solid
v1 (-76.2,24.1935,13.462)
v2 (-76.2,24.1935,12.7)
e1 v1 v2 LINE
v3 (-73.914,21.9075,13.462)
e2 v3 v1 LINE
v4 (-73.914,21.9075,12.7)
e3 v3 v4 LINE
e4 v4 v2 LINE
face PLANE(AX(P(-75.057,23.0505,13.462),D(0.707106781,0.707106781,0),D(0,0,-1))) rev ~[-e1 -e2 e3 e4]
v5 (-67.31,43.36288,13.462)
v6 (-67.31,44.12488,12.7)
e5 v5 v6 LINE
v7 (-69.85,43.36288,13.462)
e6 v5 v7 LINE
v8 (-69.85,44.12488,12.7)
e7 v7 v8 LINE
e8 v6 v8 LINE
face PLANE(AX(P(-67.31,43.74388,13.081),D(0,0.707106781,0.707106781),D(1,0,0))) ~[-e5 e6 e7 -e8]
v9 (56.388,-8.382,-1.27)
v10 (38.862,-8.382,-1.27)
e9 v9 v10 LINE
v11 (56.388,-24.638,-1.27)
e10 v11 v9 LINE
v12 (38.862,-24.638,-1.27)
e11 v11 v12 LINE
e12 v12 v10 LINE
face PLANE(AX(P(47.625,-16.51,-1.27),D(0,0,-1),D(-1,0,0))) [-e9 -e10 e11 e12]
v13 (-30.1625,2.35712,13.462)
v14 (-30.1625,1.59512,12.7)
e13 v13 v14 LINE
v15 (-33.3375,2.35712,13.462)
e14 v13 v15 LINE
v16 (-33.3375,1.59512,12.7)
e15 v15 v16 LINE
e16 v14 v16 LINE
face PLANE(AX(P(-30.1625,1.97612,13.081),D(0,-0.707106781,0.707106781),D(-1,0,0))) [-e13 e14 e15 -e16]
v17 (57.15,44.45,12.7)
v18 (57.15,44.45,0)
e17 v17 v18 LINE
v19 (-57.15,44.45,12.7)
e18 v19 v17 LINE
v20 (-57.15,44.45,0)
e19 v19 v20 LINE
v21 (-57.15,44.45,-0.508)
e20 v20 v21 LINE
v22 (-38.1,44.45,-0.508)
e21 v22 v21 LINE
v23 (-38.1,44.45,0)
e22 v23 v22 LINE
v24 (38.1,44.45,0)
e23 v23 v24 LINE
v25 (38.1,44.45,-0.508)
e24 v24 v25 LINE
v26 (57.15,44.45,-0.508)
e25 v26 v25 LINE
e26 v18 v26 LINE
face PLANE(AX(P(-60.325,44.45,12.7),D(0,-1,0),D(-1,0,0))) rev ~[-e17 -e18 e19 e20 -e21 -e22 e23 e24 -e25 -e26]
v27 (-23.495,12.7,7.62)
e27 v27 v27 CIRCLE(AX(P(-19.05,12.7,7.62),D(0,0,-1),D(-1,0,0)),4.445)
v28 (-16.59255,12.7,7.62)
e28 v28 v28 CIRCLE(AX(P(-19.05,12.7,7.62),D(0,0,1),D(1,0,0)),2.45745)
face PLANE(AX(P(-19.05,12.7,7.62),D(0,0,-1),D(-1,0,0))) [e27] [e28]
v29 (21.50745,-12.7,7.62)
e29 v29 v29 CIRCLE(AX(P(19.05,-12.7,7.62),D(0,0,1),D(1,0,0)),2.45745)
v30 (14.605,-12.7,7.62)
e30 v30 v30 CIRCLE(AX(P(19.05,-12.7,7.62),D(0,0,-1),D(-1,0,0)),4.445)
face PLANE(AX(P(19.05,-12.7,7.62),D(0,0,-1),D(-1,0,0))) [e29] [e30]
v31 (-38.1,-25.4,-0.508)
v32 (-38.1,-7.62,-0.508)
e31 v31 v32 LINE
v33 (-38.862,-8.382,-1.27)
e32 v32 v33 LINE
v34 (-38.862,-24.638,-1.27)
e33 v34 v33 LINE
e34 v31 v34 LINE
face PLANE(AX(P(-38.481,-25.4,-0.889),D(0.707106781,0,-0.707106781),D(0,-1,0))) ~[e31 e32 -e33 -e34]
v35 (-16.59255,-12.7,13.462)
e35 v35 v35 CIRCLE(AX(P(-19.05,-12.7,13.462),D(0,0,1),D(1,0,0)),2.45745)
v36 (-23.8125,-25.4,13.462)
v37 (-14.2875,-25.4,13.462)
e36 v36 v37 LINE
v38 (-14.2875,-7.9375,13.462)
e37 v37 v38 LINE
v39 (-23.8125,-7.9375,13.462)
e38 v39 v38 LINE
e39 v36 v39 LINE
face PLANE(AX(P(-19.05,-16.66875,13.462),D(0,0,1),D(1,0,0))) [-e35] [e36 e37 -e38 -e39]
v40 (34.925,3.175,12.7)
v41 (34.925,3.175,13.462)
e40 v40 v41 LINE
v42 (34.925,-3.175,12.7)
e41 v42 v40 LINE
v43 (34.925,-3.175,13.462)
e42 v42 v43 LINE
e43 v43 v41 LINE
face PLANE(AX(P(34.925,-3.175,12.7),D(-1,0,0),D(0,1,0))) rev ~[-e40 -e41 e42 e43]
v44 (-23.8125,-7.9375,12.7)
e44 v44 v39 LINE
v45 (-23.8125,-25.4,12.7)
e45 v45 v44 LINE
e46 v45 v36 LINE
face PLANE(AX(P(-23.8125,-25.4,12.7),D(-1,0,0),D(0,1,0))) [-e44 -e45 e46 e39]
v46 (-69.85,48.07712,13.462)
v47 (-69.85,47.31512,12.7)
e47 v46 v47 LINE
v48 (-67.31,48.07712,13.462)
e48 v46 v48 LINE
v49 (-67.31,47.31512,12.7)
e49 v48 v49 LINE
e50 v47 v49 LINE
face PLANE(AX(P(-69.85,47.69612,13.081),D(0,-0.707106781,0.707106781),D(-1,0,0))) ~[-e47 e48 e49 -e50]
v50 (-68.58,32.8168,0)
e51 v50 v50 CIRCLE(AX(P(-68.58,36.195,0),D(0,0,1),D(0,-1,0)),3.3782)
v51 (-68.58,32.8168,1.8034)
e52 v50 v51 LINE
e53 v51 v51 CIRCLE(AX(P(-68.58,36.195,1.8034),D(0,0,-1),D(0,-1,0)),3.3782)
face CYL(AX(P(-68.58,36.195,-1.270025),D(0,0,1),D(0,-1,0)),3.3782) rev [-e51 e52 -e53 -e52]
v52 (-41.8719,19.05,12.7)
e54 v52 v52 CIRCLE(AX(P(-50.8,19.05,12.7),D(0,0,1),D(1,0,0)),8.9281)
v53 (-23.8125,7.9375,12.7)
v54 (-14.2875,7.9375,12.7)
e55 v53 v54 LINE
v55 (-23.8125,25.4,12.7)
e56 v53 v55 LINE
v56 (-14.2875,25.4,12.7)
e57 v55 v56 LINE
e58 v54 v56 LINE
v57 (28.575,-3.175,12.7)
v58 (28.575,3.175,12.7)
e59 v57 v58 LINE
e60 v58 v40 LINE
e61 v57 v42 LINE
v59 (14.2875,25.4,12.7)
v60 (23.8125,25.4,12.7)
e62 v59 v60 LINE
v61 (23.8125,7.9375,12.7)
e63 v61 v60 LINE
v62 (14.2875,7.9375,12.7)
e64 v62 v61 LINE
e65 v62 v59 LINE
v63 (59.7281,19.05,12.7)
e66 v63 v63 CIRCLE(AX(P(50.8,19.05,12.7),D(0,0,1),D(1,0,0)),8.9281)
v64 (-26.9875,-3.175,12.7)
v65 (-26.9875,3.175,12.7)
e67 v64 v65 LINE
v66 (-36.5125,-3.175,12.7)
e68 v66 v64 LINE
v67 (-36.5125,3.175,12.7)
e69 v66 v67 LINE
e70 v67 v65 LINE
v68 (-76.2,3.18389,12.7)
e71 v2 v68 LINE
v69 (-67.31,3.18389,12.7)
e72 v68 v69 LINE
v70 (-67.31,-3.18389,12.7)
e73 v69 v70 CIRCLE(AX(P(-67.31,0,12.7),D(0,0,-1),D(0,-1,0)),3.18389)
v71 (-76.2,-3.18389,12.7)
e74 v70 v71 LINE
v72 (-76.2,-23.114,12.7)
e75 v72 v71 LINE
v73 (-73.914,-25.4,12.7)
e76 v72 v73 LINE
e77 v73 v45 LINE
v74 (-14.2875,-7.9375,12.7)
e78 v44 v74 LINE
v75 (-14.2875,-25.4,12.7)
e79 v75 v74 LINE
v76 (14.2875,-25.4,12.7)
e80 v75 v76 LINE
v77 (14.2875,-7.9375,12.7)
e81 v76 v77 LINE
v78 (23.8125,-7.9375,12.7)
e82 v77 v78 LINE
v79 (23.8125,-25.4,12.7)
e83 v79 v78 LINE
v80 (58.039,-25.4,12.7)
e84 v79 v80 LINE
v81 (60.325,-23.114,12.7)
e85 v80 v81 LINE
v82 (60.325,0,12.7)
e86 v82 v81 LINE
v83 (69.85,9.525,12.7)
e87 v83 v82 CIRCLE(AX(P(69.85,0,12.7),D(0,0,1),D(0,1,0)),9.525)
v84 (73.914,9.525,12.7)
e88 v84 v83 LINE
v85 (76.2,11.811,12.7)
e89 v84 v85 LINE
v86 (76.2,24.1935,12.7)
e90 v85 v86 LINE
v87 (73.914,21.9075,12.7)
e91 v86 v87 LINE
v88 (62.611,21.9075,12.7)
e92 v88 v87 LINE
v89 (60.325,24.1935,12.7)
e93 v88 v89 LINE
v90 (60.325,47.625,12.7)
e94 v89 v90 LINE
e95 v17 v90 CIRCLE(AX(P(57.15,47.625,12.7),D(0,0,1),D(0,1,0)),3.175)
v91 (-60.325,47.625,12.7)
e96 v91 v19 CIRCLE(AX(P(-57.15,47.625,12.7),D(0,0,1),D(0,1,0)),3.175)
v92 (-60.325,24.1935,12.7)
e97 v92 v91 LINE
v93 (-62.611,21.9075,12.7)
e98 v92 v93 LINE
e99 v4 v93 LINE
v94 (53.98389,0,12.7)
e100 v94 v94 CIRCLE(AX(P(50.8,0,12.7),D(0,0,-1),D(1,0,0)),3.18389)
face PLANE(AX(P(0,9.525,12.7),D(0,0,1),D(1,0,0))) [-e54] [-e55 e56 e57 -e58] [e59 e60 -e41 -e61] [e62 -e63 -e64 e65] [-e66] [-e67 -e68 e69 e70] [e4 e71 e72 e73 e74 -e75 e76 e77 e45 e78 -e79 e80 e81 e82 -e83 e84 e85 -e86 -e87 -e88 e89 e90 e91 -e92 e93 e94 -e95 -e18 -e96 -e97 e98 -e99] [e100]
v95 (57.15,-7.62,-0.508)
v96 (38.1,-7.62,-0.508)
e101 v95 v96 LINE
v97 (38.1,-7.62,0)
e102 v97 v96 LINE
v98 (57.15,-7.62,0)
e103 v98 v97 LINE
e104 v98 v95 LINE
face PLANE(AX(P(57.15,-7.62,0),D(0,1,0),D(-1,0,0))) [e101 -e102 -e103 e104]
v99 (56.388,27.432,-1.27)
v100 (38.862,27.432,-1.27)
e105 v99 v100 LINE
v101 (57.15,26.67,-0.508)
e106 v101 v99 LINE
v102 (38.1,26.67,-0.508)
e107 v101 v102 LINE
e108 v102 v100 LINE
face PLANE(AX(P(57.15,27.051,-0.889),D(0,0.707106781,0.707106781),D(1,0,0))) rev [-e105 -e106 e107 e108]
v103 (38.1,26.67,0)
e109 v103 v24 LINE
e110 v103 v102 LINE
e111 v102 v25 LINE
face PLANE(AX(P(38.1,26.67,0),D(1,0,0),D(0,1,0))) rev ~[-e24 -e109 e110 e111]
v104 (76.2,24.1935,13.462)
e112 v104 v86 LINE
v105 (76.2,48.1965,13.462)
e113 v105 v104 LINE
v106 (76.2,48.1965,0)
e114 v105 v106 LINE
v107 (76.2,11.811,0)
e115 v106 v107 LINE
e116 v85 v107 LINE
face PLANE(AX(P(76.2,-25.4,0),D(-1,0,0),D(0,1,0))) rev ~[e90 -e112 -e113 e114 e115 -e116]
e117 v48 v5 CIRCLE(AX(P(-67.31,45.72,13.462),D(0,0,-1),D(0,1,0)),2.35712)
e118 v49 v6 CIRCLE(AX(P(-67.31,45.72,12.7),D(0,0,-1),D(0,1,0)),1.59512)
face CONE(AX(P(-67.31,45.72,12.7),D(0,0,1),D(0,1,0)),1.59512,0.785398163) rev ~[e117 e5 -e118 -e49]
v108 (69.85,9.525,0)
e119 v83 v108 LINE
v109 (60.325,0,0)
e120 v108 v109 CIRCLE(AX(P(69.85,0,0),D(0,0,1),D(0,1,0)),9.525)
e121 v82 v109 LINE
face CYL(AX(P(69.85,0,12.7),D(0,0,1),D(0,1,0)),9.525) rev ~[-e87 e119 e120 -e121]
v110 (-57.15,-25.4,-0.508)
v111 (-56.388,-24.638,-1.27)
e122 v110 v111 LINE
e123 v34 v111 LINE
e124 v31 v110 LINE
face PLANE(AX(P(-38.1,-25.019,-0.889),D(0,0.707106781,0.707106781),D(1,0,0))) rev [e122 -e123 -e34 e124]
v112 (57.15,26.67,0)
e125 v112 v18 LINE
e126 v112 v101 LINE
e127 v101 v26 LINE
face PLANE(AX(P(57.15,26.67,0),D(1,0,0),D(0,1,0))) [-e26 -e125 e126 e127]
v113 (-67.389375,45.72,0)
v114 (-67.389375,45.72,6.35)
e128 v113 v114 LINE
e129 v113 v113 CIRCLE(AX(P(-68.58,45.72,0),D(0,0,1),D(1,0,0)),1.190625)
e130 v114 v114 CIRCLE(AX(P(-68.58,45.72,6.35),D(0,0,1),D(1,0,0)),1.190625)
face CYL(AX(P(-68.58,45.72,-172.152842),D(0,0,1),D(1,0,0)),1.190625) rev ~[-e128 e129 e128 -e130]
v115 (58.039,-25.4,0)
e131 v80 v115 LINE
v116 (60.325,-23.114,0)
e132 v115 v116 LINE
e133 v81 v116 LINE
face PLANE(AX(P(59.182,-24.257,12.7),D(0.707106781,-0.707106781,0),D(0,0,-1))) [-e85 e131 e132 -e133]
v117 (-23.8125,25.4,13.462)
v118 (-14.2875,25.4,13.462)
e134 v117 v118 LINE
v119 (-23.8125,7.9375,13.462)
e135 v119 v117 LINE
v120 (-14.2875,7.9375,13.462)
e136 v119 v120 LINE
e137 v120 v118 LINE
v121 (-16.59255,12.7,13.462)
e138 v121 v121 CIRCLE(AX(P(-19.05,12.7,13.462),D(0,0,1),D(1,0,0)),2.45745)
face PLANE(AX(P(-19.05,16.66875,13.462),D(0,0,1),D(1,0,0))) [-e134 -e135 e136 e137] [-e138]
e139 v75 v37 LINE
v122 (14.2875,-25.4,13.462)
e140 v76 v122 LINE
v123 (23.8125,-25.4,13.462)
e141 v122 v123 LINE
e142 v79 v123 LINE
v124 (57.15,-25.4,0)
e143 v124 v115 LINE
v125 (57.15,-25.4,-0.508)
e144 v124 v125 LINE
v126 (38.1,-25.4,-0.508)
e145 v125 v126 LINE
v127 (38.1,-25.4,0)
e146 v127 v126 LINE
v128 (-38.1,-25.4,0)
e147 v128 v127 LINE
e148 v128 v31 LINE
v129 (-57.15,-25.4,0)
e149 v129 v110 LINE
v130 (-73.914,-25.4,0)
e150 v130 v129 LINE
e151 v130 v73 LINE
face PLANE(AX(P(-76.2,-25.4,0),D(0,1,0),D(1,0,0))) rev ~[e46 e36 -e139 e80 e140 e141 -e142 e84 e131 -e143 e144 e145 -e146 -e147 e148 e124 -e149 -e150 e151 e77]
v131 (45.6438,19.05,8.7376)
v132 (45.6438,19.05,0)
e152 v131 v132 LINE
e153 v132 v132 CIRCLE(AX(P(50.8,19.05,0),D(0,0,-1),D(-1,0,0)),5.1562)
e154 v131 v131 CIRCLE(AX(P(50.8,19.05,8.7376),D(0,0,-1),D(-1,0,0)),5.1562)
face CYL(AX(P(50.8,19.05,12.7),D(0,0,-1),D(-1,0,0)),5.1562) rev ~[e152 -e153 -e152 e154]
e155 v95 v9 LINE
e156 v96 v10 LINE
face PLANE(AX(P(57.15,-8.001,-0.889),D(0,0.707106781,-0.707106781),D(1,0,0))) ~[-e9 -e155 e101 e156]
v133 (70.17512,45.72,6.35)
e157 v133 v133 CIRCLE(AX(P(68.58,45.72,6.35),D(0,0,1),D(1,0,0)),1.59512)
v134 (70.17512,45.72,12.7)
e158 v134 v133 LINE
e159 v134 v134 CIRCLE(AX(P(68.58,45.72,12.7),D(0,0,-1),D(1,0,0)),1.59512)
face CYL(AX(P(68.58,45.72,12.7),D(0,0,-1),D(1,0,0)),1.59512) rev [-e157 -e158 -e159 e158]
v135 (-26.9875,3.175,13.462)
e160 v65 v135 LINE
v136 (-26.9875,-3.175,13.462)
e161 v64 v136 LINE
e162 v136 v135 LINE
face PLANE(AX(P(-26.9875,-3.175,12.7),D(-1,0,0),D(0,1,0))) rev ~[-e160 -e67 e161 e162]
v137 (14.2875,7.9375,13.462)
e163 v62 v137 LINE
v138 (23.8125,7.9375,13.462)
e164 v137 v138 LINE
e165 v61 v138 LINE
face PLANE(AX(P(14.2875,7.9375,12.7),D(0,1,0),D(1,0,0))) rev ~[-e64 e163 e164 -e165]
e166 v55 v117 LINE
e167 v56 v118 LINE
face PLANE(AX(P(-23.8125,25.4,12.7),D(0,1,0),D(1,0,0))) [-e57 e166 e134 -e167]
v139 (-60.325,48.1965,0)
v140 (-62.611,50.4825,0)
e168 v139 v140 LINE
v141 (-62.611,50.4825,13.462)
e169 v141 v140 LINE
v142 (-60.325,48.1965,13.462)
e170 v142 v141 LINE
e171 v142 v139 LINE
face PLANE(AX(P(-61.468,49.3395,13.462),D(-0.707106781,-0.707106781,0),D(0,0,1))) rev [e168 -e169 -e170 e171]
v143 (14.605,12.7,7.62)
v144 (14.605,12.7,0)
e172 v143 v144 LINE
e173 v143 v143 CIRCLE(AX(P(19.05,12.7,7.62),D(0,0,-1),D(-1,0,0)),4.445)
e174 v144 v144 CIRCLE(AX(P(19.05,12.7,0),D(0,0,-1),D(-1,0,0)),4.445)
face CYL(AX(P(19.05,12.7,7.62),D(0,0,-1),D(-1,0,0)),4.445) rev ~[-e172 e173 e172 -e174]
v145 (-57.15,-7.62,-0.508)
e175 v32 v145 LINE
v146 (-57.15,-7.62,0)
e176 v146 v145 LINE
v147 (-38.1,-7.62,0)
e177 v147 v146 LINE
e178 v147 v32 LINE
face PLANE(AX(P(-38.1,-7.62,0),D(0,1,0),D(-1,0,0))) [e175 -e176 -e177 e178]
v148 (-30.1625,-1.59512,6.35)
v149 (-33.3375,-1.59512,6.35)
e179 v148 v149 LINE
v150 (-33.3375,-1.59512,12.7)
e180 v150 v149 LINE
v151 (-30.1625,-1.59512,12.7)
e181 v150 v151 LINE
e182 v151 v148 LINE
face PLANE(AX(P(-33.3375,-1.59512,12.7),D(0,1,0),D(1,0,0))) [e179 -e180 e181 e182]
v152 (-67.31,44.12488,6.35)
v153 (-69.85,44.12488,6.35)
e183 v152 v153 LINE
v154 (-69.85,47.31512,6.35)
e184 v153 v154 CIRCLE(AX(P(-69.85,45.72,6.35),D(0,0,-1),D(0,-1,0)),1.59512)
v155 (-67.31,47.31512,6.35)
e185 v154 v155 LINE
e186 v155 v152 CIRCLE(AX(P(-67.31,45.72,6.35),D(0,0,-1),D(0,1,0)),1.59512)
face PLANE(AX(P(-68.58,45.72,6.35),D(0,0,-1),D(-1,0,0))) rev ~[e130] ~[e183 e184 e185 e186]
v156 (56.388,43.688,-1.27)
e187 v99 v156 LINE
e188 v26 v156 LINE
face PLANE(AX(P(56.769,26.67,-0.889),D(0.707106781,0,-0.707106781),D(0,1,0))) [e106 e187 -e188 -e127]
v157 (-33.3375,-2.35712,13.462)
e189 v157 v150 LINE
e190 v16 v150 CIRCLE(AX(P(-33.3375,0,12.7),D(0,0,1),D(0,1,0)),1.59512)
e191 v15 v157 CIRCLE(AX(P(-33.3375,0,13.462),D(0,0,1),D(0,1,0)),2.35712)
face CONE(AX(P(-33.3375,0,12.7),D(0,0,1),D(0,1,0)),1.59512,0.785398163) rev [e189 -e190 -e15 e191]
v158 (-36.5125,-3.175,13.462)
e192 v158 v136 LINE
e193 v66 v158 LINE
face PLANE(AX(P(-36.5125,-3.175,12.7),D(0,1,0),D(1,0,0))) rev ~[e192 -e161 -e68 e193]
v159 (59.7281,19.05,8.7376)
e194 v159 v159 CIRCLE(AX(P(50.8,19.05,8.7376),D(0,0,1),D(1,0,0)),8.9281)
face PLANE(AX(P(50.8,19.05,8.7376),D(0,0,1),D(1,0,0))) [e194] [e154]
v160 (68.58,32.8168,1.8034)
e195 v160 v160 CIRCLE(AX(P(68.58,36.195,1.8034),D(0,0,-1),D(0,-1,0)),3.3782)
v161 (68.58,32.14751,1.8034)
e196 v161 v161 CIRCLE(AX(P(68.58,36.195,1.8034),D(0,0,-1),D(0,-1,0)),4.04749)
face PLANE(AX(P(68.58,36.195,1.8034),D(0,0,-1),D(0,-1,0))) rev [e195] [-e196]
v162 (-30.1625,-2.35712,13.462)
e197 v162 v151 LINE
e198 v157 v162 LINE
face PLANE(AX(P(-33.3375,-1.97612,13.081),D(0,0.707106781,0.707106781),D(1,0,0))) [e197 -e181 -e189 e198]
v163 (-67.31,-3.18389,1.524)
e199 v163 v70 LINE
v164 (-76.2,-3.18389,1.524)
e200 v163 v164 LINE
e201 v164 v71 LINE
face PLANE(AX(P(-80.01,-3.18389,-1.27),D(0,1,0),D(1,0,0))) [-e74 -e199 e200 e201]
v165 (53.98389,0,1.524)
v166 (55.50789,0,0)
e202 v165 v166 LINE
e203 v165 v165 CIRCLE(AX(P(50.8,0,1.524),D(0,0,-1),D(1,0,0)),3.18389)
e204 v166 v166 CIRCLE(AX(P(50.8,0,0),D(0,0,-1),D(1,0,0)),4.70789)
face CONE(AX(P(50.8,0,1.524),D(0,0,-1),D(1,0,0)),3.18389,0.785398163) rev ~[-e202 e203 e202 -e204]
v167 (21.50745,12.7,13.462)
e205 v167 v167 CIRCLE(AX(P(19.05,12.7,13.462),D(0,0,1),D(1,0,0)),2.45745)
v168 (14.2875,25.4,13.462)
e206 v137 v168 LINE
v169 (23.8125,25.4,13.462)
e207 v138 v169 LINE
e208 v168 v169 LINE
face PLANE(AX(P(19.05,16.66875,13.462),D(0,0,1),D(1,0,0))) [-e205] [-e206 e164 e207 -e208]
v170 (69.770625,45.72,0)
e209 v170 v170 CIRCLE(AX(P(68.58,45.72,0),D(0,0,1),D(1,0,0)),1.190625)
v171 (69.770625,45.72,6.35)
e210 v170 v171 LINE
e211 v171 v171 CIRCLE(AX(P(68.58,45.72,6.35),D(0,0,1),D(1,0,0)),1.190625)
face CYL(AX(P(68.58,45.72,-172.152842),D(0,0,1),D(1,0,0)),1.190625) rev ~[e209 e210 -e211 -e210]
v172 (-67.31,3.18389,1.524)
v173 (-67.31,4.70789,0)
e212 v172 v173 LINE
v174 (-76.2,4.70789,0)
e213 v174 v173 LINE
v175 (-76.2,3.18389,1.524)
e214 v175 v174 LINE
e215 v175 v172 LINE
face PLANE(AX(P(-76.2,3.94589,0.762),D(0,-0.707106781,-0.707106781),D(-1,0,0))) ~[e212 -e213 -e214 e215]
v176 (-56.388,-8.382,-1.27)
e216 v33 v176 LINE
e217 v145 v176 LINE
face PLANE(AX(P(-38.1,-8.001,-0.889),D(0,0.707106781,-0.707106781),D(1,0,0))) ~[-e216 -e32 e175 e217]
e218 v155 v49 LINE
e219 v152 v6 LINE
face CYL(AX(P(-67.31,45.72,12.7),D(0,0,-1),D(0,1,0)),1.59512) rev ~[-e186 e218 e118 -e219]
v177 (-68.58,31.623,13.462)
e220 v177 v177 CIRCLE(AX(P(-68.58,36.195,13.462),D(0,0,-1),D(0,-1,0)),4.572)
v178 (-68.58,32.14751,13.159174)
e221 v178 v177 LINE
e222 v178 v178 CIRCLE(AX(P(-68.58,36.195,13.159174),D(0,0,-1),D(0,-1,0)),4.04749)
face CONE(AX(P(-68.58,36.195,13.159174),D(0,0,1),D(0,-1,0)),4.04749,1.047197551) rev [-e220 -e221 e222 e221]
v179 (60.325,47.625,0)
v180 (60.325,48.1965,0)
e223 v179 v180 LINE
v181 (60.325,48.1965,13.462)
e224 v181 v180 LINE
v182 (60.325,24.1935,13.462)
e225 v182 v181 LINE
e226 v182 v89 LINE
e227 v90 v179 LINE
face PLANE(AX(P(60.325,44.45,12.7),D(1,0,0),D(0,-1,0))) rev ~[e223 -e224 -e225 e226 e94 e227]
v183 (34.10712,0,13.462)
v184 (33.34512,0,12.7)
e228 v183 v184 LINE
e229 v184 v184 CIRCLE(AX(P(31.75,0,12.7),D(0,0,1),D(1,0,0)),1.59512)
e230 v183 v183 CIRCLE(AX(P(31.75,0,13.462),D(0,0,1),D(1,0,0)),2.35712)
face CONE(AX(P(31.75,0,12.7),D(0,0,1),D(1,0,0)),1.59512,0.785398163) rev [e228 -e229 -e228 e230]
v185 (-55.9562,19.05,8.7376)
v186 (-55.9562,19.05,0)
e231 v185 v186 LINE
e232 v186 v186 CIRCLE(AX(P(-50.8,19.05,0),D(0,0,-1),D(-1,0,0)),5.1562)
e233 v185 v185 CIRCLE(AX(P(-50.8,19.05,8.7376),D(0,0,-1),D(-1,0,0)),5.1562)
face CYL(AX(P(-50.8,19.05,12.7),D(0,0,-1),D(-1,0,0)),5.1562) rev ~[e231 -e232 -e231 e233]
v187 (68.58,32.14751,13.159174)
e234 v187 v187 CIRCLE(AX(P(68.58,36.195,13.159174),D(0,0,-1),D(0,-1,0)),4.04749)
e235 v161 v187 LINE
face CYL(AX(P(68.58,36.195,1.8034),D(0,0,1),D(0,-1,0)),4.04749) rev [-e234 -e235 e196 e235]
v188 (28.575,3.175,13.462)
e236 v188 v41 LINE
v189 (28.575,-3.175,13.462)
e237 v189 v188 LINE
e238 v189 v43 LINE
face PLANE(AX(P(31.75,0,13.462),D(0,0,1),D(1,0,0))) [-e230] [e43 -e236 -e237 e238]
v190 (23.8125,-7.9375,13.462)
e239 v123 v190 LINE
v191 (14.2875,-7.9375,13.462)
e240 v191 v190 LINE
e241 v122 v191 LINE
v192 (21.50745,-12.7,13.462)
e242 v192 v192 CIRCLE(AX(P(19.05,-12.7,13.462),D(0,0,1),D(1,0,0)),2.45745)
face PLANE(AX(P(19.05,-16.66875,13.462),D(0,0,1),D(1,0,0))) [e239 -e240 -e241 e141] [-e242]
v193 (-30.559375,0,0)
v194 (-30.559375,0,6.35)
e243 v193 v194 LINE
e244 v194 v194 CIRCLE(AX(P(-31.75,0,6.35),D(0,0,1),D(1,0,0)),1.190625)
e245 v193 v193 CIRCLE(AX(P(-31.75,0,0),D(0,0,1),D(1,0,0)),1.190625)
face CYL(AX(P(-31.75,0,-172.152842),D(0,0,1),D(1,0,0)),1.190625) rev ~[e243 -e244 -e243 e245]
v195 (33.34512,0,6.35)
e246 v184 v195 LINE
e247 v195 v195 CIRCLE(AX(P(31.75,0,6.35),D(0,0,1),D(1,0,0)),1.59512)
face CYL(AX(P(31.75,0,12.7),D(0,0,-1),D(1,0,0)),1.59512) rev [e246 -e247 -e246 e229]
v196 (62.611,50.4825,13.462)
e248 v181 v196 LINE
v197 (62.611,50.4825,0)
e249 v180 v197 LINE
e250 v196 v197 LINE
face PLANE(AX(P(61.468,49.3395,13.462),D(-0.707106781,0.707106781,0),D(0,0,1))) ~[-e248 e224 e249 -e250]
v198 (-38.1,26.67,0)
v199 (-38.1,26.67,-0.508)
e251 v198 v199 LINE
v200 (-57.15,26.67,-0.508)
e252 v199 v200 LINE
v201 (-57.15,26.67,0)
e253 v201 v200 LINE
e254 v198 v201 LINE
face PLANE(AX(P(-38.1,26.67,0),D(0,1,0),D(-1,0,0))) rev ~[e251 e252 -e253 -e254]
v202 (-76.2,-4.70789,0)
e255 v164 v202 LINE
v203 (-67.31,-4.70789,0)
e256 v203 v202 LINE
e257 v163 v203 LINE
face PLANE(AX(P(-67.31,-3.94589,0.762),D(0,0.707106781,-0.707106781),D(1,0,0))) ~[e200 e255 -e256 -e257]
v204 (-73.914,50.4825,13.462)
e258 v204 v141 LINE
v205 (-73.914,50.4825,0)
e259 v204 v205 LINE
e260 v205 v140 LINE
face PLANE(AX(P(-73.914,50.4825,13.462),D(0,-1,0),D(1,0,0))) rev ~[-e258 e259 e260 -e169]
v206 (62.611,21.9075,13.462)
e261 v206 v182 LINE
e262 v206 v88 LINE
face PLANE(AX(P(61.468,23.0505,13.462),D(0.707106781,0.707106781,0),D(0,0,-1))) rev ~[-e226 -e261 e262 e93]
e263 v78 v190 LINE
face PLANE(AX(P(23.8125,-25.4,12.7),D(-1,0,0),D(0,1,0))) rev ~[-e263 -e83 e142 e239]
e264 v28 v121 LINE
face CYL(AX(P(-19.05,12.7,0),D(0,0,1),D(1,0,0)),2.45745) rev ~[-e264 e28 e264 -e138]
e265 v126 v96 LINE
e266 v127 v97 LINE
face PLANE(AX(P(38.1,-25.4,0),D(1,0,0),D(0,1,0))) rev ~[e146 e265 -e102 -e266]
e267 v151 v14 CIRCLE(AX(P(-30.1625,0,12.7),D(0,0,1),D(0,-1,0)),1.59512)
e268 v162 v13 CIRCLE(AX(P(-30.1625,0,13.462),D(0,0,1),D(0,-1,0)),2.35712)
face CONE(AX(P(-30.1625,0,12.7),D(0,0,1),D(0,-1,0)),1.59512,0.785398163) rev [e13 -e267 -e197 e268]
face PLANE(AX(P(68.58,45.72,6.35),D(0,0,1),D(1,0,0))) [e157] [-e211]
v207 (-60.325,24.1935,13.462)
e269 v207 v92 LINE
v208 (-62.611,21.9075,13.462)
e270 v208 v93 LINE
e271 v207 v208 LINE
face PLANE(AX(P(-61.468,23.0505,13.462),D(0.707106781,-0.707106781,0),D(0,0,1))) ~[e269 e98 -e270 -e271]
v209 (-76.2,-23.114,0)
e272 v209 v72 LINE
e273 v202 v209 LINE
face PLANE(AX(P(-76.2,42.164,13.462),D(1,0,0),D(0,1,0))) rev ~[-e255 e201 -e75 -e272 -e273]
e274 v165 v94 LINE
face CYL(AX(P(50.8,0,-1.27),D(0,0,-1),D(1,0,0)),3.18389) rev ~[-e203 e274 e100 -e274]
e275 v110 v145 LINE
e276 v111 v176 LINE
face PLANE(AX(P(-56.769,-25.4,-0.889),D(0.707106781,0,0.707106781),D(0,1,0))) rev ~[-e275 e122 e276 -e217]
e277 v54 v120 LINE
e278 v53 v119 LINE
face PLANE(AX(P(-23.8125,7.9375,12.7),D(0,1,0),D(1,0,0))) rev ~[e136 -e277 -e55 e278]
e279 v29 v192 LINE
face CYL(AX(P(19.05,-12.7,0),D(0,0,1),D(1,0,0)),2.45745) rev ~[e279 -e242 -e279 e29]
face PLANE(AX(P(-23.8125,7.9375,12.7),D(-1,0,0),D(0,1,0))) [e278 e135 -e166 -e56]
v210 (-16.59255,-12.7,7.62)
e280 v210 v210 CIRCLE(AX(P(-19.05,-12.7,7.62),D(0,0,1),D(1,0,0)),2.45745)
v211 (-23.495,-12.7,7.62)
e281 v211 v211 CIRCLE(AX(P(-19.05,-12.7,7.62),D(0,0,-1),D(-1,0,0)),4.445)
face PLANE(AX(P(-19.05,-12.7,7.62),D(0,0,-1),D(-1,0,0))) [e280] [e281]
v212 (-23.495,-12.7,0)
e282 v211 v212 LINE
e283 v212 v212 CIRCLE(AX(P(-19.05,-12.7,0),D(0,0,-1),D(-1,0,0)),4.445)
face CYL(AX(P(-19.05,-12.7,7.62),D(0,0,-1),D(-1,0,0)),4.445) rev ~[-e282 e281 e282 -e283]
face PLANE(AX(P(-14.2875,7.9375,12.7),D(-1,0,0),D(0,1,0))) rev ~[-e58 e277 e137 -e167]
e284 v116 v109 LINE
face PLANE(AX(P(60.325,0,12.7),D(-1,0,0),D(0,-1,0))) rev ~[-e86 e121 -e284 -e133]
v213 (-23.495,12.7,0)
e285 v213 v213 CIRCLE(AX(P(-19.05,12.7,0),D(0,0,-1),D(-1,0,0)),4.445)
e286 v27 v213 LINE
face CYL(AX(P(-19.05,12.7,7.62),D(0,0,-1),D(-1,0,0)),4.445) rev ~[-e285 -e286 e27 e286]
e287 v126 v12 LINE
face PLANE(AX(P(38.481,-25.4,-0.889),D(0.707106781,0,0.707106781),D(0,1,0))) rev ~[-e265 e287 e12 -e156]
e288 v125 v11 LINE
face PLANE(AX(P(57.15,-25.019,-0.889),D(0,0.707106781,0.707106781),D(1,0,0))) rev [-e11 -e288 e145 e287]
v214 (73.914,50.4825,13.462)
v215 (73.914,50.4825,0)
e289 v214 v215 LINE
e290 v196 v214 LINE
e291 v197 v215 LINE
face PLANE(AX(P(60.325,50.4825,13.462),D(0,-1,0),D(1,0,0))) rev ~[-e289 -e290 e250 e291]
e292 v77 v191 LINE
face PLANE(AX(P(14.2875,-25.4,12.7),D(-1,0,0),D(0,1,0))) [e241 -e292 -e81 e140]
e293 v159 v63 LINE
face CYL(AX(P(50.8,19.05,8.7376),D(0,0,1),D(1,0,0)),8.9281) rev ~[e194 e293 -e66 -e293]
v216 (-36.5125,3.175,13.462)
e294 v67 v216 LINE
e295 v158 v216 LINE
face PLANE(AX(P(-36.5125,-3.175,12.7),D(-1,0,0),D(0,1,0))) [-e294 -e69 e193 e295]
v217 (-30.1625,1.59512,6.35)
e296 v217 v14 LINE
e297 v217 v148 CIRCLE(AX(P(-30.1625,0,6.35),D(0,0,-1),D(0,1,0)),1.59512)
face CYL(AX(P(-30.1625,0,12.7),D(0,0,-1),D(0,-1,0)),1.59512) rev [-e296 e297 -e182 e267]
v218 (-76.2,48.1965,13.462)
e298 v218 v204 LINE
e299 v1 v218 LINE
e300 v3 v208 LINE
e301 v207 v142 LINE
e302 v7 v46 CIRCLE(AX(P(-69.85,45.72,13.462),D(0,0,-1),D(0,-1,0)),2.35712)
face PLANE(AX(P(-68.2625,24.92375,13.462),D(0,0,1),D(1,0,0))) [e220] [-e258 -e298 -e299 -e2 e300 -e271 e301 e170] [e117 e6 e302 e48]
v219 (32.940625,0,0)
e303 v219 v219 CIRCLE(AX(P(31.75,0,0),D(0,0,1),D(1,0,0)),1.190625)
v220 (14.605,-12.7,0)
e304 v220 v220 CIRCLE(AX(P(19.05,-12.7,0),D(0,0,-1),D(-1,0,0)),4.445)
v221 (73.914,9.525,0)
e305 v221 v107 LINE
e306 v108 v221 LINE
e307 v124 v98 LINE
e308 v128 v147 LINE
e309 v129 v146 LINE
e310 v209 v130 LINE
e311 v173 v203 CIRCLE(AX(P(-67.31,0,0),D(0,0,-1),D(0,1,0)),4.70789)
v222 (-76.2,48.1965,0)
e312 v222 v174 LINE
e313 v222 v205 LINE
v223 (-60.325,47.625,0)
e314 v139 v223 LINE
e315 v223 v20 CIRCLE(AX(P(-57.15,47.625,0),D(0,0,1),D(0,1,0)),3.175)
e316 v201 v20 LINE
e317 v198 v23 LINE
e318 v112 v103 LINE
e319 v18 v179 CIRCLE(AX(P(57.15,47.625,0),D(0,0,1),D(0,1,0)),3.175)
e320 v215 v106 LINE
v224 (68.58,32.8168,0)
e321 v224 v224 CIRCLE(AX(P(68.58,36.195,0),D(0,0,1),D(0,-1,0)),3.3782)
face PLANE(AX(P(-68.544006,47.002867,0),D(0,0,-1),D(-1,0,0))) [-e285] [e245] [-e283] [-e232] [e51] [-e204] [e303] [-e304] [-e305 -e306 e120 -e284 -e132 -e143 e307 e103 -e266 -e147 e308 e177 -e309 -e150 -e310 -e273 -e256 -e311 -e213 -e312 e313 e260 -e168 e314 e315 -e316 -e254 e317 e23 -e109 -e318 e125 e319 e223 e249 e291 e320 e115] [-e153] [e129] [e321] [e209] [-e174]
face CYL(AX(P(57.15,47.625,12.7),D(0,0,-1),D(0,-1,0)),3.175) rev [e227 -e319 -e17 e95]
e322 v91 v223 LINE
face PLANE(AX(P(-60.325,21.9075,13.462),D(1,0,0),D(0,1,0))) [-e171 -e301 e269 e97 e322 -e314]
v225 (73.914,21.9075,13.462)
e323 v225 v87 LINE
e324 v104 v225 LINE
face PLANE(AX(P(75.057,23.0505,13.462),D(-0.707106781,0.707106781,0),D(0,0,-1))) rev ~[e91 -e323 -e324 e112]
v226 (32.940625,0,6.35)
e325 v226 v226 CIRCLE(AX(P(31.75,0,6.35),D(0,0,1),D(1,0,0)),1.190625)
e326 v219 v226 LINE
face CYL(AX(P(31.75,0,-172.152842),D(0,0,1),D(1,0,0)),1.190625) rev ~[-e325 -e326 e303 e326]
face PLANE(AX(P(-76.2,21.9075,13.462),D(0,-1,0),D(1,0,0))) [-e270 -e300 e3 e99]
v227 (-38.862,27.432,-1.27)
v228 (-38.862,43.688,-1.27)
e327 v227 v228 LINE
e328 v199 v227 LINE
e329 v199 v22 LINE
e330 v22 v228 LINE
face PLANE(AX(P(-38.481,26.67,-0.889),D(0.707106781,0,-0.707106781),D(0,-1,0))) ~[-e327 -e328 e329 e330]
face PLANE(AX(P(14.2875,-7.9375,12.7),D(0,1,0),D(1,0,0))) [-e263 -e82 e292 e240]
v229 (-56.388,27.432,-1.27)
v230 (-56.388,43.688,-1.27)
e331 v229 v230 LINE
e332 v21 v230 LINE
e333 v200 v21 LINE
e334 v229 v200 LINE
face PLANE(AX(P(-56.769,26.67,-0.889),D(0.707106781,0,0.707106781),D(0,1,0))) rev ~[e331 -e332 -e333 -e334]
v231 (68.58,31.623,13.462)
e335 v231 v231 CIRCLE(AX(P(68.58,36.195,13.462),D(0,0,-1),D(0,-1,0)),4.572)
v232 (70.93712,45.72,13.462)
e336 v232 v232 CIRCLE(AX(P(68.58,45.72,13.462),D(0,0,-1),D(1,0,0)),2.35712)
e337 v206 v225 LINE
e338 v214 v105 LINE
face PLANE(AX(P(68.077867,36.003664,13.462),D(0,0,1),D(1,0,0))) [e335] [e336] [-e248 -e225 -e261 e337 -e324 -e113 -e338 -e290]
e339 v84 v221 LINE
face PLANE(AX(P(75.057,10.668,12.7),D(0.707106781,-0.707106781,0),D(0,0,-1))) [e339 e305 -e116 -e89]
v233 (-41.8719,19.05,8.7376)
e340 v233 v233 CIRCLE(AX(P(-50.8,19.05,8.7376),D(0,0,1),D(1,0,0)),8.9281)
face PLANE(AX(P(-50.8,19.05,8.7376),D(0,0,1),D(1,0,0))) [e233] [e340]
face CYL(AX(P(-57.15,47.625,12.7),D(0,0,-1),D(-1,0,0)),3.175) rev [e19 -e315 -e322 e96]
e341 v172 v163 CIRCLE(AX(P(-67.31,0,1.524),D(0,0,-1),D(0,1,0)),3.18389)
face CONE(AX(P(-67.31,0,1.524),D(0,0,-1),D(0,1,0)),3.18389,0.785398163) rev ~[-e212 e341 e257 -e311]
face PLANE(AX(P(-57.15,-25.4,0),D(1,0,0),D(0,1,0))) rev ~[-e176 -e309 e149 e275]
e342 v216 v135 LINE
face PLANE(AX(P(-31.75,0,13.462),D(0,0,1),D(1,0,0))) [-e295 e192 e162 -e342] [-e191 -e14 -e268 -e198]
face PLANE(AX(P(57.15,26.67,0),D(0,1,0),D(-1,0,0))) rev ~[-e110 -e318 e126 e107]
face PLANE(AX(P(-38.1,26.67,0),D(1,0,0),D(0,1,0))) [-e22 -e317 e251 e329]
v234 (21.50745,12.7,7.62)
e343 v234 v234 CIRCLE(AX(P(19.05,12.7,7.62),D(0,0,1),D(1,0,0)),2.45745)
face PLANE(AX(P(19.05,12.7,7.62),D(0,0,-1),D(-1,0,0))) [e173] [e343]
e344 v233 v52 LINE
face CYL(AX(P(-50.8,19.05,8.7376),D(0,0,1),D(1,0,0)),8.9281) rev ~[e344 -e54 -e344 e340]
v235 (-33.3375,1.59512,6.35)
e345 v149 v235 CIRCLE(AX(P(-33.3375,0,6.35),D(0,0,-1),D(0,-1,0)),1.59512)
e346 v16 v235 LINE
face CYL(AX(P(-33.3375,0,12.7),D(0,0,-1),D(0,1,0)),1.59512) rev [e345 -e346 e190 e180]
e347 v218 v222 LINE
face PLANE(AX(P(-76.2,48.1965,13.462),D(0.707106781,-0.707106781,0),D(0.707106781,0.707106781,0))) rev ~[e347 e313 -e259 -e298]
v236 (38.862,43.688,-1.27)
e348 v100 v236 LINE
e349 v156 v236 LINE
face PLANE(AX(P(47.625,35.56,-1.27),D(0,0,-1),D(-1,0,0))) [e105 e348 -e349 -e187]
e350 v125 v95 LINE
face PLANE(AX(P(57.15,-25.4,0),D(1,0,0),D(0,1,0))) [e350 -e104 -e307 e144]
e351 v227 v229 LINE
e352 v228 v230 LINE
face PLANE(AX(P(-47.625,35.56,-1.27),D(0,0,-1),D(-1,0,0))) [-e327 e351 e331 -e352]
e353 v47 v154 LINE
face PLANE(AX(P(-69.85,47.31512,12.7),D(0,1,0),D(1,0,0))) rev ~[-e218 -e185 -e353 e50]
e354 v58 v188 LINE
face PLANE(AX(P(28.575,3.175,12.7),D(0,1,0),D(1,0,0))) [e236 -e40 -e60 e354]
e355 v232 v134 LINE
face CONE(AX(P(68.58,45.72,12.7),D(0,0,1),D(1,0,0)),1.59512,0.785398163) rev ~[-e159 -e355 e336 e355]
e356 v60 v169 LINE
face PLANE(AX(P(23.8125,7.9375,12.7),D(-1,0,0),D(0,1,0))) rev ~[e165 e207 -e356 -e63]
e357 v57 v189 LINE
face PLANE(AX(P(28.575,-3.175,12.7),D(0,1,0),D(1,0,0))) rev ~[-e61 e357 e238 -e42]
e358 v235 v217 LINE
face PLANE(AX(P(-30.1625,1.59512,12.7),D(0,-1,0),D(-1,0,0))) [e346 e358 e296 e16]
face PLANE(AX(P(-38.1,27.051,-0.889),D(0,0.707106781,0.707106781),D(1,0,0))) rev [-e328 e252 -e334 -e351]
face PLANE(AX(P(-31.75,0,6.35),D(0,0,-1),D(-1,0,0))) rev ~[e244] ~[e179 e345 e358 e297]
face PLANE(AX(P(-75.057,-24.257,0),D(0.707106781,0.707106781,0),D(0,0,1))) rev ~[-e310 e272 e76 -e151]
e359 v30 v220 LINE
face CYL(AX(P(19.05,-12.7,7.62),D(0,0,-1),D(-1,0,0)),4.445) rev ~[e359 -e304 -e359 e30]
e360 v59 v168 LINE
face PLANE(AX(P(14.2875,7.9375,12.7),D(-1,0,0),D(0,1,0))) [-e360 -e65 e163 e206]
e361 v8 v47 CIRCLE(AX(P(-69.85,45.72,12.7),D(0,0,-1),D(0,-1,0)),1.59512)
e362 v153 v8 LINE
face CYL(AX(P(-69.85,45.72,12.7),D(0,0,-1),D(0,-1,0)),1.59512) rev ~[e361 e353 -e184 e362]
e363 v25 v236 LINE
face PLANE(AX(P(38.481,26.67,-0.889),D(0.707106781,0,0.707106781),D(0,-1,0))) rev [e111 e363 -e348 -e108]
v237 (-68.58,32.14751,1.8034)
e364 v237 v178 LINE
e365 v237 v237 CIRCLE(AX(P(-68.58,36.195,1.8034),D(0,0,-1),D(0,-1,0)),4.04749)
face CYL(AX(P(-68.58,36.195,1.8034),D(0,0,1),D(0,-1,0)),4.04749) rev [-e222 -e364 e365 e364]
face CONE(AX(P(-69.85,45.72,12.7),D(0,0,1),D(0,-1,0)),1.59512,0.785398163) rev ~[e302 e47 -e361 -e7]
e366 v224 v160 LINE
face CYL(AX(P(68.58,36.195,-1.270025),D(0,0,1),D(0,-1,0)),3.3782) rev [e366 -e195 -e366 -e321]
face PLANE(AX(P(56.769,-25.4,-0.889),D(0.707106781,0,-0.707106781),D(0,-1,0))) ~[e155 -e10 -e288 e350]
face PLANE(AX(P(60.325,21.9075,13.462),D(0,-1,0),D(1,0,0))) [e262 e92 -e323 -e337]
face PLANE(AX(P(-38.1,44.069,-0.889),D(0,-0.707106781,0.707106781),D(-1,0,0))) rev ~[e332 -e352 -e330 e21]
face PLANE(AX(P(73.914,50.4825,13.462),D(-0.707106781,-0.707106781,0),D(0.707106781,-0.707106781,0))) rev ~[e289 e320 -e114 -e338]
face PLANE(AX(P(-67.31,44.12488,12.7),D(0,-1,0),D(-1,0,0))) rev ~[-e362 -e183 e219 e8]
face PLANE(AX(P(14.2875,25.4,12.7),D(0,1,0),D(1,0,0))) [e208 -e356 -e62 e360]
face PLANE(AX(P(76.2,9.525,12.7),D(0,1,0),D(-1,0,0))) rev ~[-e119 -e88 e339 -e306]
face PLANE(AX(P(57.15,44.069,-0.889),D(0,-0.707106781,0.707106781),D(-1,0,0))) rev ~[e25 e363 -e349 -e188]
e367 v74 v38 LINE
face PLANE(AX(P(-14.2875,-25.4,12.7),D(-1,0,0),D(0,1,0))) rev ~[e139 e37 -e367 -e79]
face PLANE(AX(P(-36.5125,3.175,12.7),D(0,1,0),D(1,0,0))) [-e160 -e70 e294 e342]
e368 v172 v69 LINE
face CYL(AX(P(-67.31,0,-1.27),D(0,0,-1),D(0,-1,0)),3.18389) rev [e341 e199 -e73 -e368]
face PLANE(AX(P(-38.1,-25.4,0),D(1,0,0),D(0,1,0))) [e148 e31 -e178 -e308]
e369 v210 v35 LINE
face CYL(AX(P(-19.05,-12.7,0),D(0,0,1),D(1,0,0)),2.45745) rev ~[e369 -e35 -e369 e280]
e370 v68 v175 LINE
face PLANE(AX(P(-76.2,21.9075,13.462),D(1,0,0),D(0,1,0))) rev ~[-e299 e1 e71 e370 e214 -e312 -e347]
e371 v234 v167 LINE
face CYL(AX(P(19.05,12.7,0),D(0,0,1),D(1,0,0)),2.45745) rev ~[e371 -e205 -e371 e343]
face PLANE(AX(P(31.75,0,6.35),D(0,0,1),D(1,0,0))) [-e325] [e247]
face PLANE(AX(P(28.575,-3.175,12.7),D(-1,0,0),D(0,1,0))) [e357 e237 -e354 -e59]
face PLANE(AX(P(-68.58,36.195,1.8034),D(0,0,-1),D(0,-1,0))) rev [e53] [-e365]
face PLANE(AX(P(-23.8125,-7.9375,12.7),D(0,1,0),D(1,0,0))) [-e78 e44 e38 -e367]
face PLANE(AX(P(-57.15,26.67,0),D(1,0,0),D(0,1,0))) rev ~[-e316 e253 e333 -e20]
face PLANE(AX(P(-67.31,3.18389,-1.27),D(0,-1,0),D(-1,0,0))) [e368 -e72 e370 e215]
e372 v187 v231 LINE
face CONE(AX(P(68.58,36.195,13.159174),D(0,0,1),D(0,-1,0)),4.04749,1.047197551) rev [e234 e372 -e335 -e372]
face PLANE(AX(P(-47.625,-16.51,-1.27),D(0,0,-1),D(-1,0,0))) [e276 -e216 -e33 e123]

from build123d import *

# Parameters (mm, degrees)
SKETCH1_W                                        = 152.4
SKETCH1_H                                        = 69.85
BASE_EXTRUDE_DEPTH                               = 12.7
SKETCH29_W                                       = 19.05
SKETCH29_H                                       = 17.78
MOUNTING_SURFACES_STAGE2_DEPTH                   = 1.27
CHAMFER1_SIZE                                    = 2.286
SKETCH17_W                                       = 9.525
SKETCH17_H                                       = 17.4625
MOUNTING_SURFACES_MAGNET_BRACKET_DEPTH           = 0.762
EXTRUDE1_DEPTH                                   = 13.462
SKETCH18_R                                       = 1.59512
PIN_HOLES_SLOTS_MAGNET_BLOCK_BOBIN_DEPTH         = 1.762
PIN_HOLES_SLOTS_MAGNET_BLOCK_BOBIN_DEPTH_BACK    = 6.35
SKETCH19_W                                       = 6.35
SKETCH19_H                                       = 6.35
SKETCH19_R                                       = 1.59512
SKETCH19_W_2                                     = 9.525
PIN_HOLE_SLOT_MAGNET_BLOCK_SURFACE_DEPTH         = 0.762
CLEARANCE_CUT_GS_13_SCREW_HEAD_DEPTH             = 1.762
CLEARANCE_CUT_GS_13_SCREW_HEAD_DEPTH_BACK        = 14.97
CBORE_FOR_8_SOCKET_HEAD_CAP_SCREW1_D             = 4.9149
CBORE_FOR_8_SOCKET_HEAD_CAP_SCREW1_CBORE_D       = 8.89
CBORE_FOR_8_SOCKET_HEAD_CAP_SCREW1_CBORE_DEPTH   = 7.62
TAPPED_HOLE_FOR_1_4_20_HELICOIL1_AT_2_COUNT      = 2
TAPPED_HOLE_FOR_1_4_20_HELICOIL1_AT_2_PITCH      = 137.16
SKETCH28_R                                       = 3.18389
PIN_HOLE_SLOT_TO_STAGE2_DEPTH                    = 15.732
CBORE_FOR_3_8_SOCKET_HEAD_CAP_SCREW1_D           = 10.3124
CBORE_FOR_3_8_SOCKET_HEAD_CAP_SCREW1_CBORE_D     = 17.8562
CBORE_FOR_3_8_SOCKET_HEAD_CAP_SCREW1_CBORE_DEPTH = 3.9624
CHAMFER3_SIZE                                    = 0.762
F_3_32_0_09375_DIAMETER_HOLE1_D                  = 2.38125
CHAMFER4_SIZE                                    = 1.524
SKETCH37_W                                       = 15.875
SKETCH37_H                                       = 6.0325
EXTRUDE2_DEPTH                                   = 0.762
FILLET1_R                                        = 3.175
CHAMFER7_SIZE                                    = 0.762
CHAMFER8_SIZE                                    = 2.286


with BuildPart() as part:
    # Sketch1 → Base Extrude (new body)
    with BuildSketch(Plane.XY):
        with Locations((0, 9.525)):
            Rectangle(SKETCH1_W, SKETCH1_H)
    extrude(amount=BASE_EXTRUDE_DEPTH)

    # Sketch29 → Mounting Surfaces_ Stage2 (add)
    with BuildSketch(Plane(origin=(0, 0, 0), x_dir=(-1, 0, 0), z_dir=(0, 0, -1))):
        with Locations((-47.625, 35.56)):
            Rectangle(SKETCH29_W, SKETCH29_H)
        with Locations((-47.625, -16.51)):
            Rectangle(SKETCH29_W, SKETCH29_H)
        with Locations((47.625, 35.56)):
            Rectangle(SKETCH29_W, SKETCH29_H)
        with Locations((47.625, -16.51)):
            Rectangle(SKETCH29_W, SKETCH29_H)
    extrude(amount=MOUNTING_SURFACES_STAGE2_DEPTH)

    # Chamfer1
    chamfer1_edges = [part.edges().sort_by_distance(p)[0] for p in [
        (-76.2, 44.45, 6.35),
        (76.2, 44.45, 6.35),
        (76.2, -25.4, 6.35),
        (-76.2, -25.4, 6.35),
    ]]
    chamfer(chamfer1_edges, length=CHAMFER1_SIZE)

    # Sketch17 → Mounting Surfaces_ Magnet _ Bracket (add)
    with BuildSketch(Plane.XY.offset(12.7)):
        with Locations((-19.05, 16.66875)):
            Rectangle(SKETCH17_W, SKETCH17_H)
        with Locations((19.05, 16.66875)):
            Rectangle(SKETCH17_W, SKETCH17_H)
        with Locations((19.05, -16.66875)):
            Rectangle(SKETCH17_W, SKETCH17_H)
        with Locations((-19.05, -16.66875)):
            Rectangle(SKETCH17_W, SKETCH17_H)
        Polygon((-73.914, 44.45), (-76.2, 42.164), (-76.2, 27.94), (-60.325, 27.94), (-60.325, 44.45), align=None)
        Polygon((73.914, 44.45), (60.325, 44.45), (60.325, 27.94), (76.2, 27.94), (76.2, 42.164), align=None)
    extrude(amount=MOUNTING_SURFACES_MAGNET_BRACKET_DEPTH)

    # Sketch36 → Extrude1 (add)
    with BuildSketch(Plane.XY.offset(13.462)):
        Polygon((-76.2, 42.164), (-76.2, 48.1965), (-73.914, 50.4825), (-60.325, 50.4825), (-60.325, 44.45), (-73.914, 44.45), align=None)
        Polygon((60.325, 44.45), (60.325, 50.4825), (73.914, 50.4825), (76.2, 48.1965), (76.2, 42.164), (73.914, 44.45), align=None)
    extrude(amount=-EXTRUDE1_DEPTH)

    # Sketch18 → Pin holes _ Slots_ Magnet Block _ Bobin (cut, two sides)
    with BuildSketch(Plane.XY.offset(12.7)) as pin_holes_slots_magnet_block_bobin_sk:
        with Locations((31.75, 0)):
            Circle(SKETCH18_R)
        with Locations((68.58, 45.72)):
            Circle(SKETCH18_R)
        with BuildLine():
            Line((-33.3375, 1.59512), (-30.1625, 1.59512))
            ThreePointArc((-30.1625, 1.59512), (-28.56738, 0), (-30.1625, -1.59512))
            Line((-30.1625, -1.59512), (-33.3375, -1.59512))
            ThreePointArc((-33.3375, -1.59512), (-34.93262, 0), (-33.3375, 1.59512))
        make_face()
        with BuildLine():
            Line((-69.85, 47.31512), (-67.31, 47.31512))
            ThreePointArc((-67.31, 47.31512), (-65.71488, 45.72), (-67.31, 44.12488))
            Line((-67.31, 44.12488), (-69.85, 44.12488))
            ThreePointArc((-69.85, 44.12488), (-71.44512, 45.72), (-69.85, 47.31512))
        make_face()
    extrude(amount=PIN_HOLES_SLOTS_MAGNET_BLOCK_BOBIN_DEPTH, mode=Mode.SUBTRACT)
    extrude(pin_holes_slots_magnet_block_bobin_sk.sketch, amount=-PIN_HOLES_SLOTS_MAGNET_BLOCK_BOBIN_DEPTH_BACK, mode=Mode.SUBTRACT)

    # Sketch19 → Pin hole _ Slot_ Magnet Block surface (add)
    with BuildSketch(Plane.XY.offset(12.7)):
        with Locations((31.75, 0)):
            Rectangle(SKETCH19_W, SKETCH19_H)
        with Locations((31.75, 0)):
            Circle(SKETCH19_R, mode=Mode.SUBTRACT)
        with Locations((-31.75, 0)):
            Rectangle(SKETCH19_W_2, SKETCH19_H)
        with BuildLine():
            Line((-30.1625, 1.59512), (-33.3375, 1.59512))
            ThreePointArc((-33.3375, 1.59512), (-34.93262, 0), (-33.3375, -1.59512))
            Line((-33.3375, -1.59512), (-30.1625, -1.59512))
            ThreePointArc((-30.1625, -1.59512), (-28.56738, 0), (-30.1625, 1.59512))
        make_face(mode=Mode.SUBTRACT)
    extrude(amount=PIN_HOLE_SLOT_MAGNET_BLOCK_SURFACE_DEPTH)

    # Sketch20 → Clearance Cut_ GS-13 Screw Head (cut, two sides)
    with BuildSketch(Plane.XY.offset(12.7)) as clearance_cut_gs_13_screw_head_sk:
        with BuildLine():
            Line((60.325, 0), (60.325, -25.4))
            Line((60.325, -25.4), (73.914, -25.4))
            Line((73.914, -25.4), (76.2, -23.114))
            Line((76.2, -23.114), (76.2, 9.525))
            Line((76.2, 9.525), (69.85, 9.525))
            ThreePointArc((69.85, 9.525), (63.114807909, 6.735192091), (60.325, 0))
        make_face()
    extrude(amount=CLEARANCE_CUT_GS_13_SCREW_HEAD_DEPTH, mode=Mode.SUBTRACT)
    extrude(clearance_cut_gs_13_screw_head_sk.sketch, amount=-CLEARANCE_CUT_GS_13_SCREW_HEAD_DEPTH_BACK, mode=Mode.SUBTRACT)

    # CBORE for _8 Socket Head Cap Screw1 (through all)
    with Locations(Plane(origin=(0, 0, 0), x_dir=(-1, 0, 0), z_dir=(0, 0, -1))):
        with Locations((-19.05, 12.7), (19.05, 12.7), (19.05, -12.7), (-19.05, -12.7)):
            CounterBoreHole(CBORE_FOR_8_SOCKET_HEAD_CAP_SCREW1_D / 2, CBORE_FOR_8_SOCKET_HEAD_CAP_SCREW1_CBORE_D / 2, CBORE_FOR_8_SOCKET_HEAD_CAP_SCREW1_CBORE_DEPTH)

    # Sketch25 → Tapped Hole for 1_4-20 Helicoil1 (revolve, cut)
    with BuildSketch(Plane(origin=(68.58, 36.195, 13.462), x_dir=(0, -1, 0), z_dir=(1, 0, 0))):
        Polygon((0, 0), (0, 14.732025), (3.3782, 14.732025), (3.3782, 11.6586), (4.04749, 11.6586), (4.04749, 0.30282599), (4.572, 0), align=None)
    tapped_hole_for_1_4_20_helicoil1 = revolve(axis=Axis((68.58, 36.195, 19.812), (0, 0, -1)), mode=Mode.SUBTRACT)

    # Tapped Hole for 1_4-20 Helicoil1 at 2: Tapped Hole for 1_4-20 Helicoil1 ×2
    with Locations(*[(-i * TAPPED_HOLE_FOR_1_4_20_HELICOIL1_AT_2_PITCH, 0, 0) for i in range(1, TAPPED_HOLE_FOR_1_4_20_HELICOIL1_AT_2_COUNT)]):
        add(tapped_hole_for_1_4_20_helicoil1, mode=Mode.SUBTRACT)

    # Sketch28 → Pin Hole _ Slot to Stage2 (cut, through all)
    with BuildSketch(Plane(origin=(0, 0, -1.27), x_dir=(-1, 0, 0), z_dir=(0, 0, -1))):
        with Locations(Location((-50.8, 0, 0), (0, 0, 180))):  # turned: the seam where the file's is
            Circle(SKETCH28_R)
        with BuildLine():
            Line((67.31, 3.18389), (80.01, 3.18389))
            ThreePointArc((80.01, 3.18389), (83.19389, 0), (80.01, -3.18389))
            Line((80.01, -3.18389), (67.31, -3.18389))
            ThreePointArc((67.31, -3.18389), (64.12611, 0), (67.31, 3.18389))
        make_face()
    extrude(amount=-PIN_HOLE_SLOT_TO_STAGE2_DEPTH, mode=Mode.SUBTRACT)

    # CBORE for 3_8 Socket Head Cap Screw1 (through all)
    with Locations(Plane.XY.offset(12.7)):
        with Locations((-50.8, 19.05), (50.8, 19.05)):
            CounterBoreHole(CBORE_FOR_3_8_SOCKET_HEAD_CAP_SCREW1_D / 2, CBORE_FOR_3_8_SOCKET_HEAD_CAP_SCREW1_CBORE_D / 2, CBORE_FOR_3_8_SOCKET_HEAD_CAP_SCREW1_CBORE_DEPTH)

    # Chamfer3
    chamfer3_edges = [part.edges().sort_by_distance(p)[0] for p in [
        (66.98488, 45.72, 13.462),
        (-71.44512, 45.72, 13.462),
        (-68.58, 44.12488, 13.462),
        (-65.71488, 45.72, 13.462),
        (-68.58, 47.31512, 13.462),
        (30.15488, 0, 13.462),
        (-31.75, 1.59512, 13.462),
        (-28.56738, 0, 13.462),
        (-31.75, -1.59512, 13.462),
        (-34.93262, 0, 13.462),
    ]]
    chamfer(chamfer3_edges, length=CHAMFER3_SIZE)

    # 3_32 _0.09375_ Diameter Hole1 (through all)
    with Locations(Plane(origin=(0, 0, -1.27), x_dir=(-1, 0, 0), z_dir=(0, 0, -1))):
        with Locations((68.58, 45.72), (-68.58, 45.72), (-31.75, 0), (31.75, 0)):
            Hole(F_3_32_0_09375_DIAMETER_HOLE1_D / 2)

    # Chamfer4
    chamfer4_edges = [part.edges().sort_by_distance(p)[0] for p in [
        (47.61611, 0, 0),
        (-64.12611, 0, 0),
        (-71.755, 3.18389, 0),
        (-71.755, -3.18389, 0),
    ]]
    chamfer(chamfer4_edges, length=CHAMFER4_SIZE)

    # Sketch37 → Extrude2 (add)
    with BuildSketch(Plane.XY.offset(13.462)):
        with Locations((-68.2625, 24.92375)):
            Rectangle(SKETCH37_W, SKETCH37_H)
        with Locations((68.2625, 24.92375)):
            Rectangle(SKETCH37_W, SKETCH37_H)
    extrude(amount=-EXTRUDE2_DEPTH)

    # Fillet1
    fillet1_edges = [part.edges().sort_by_distance(p)[0] for p in [
        (60.325, 44.45, 6.35),
        (-60.325, 44.45, 6.35),
    ]]
    fillet(fillet1_edges, radius=FILLET1_R)

    # Chamfer7
    chamfer7_edges = [part.edges().sort_by_distance(p)[0] for p in [
        (-47.625, 44.45, -1.27),
        (-57.15, 35.56, -1.27),
        (-47.625, 26.67, -1.27),
        (-38.1, 35.56, -1.27),
        (47.625, 44.45, -1.27),
        (38.1, 35.56, -1.27),
        (47.625, 26.67, -1.27),
        (57.15, 35.56, -1.27),
        (47.625, -25.4, -1.27),
        (57.15, -16.51, -1.27),
        (47.625, -7.62, -1.27),
        (38.1, -16.51, -1.27),
        (-47.625, -25.4, -1.27),
        (-38.1, -16.51, -1.27),
        (-47.625, -7.62, -1.27),
        (-57.15, -16.51, -1.27),
    ]]
    chamfer(chamfer7_edges, length=CHAMFER7_SIZE)

    # Chamfer8
    chamfer8_edges = [part.edges().sort_by_distance(p)[0] for p in [
        (-60.325, 50.4825, 6.731),
        (60.325, 50.4825, 6.731),
        (60.325, -25.4, 6.35),
        (76.2, 9.525, 6.35),
        (-76.2, 21.9075, 13.081),
        (-60.325, 21.9075, 13.081),
        (60.325, 21.9075, 13.081),
        (76.2, 21.9075, 13.081),
    ]]
    chamfer(chamfer8_edges, length=CHAMFER8_SIZE)


solid = part.part
